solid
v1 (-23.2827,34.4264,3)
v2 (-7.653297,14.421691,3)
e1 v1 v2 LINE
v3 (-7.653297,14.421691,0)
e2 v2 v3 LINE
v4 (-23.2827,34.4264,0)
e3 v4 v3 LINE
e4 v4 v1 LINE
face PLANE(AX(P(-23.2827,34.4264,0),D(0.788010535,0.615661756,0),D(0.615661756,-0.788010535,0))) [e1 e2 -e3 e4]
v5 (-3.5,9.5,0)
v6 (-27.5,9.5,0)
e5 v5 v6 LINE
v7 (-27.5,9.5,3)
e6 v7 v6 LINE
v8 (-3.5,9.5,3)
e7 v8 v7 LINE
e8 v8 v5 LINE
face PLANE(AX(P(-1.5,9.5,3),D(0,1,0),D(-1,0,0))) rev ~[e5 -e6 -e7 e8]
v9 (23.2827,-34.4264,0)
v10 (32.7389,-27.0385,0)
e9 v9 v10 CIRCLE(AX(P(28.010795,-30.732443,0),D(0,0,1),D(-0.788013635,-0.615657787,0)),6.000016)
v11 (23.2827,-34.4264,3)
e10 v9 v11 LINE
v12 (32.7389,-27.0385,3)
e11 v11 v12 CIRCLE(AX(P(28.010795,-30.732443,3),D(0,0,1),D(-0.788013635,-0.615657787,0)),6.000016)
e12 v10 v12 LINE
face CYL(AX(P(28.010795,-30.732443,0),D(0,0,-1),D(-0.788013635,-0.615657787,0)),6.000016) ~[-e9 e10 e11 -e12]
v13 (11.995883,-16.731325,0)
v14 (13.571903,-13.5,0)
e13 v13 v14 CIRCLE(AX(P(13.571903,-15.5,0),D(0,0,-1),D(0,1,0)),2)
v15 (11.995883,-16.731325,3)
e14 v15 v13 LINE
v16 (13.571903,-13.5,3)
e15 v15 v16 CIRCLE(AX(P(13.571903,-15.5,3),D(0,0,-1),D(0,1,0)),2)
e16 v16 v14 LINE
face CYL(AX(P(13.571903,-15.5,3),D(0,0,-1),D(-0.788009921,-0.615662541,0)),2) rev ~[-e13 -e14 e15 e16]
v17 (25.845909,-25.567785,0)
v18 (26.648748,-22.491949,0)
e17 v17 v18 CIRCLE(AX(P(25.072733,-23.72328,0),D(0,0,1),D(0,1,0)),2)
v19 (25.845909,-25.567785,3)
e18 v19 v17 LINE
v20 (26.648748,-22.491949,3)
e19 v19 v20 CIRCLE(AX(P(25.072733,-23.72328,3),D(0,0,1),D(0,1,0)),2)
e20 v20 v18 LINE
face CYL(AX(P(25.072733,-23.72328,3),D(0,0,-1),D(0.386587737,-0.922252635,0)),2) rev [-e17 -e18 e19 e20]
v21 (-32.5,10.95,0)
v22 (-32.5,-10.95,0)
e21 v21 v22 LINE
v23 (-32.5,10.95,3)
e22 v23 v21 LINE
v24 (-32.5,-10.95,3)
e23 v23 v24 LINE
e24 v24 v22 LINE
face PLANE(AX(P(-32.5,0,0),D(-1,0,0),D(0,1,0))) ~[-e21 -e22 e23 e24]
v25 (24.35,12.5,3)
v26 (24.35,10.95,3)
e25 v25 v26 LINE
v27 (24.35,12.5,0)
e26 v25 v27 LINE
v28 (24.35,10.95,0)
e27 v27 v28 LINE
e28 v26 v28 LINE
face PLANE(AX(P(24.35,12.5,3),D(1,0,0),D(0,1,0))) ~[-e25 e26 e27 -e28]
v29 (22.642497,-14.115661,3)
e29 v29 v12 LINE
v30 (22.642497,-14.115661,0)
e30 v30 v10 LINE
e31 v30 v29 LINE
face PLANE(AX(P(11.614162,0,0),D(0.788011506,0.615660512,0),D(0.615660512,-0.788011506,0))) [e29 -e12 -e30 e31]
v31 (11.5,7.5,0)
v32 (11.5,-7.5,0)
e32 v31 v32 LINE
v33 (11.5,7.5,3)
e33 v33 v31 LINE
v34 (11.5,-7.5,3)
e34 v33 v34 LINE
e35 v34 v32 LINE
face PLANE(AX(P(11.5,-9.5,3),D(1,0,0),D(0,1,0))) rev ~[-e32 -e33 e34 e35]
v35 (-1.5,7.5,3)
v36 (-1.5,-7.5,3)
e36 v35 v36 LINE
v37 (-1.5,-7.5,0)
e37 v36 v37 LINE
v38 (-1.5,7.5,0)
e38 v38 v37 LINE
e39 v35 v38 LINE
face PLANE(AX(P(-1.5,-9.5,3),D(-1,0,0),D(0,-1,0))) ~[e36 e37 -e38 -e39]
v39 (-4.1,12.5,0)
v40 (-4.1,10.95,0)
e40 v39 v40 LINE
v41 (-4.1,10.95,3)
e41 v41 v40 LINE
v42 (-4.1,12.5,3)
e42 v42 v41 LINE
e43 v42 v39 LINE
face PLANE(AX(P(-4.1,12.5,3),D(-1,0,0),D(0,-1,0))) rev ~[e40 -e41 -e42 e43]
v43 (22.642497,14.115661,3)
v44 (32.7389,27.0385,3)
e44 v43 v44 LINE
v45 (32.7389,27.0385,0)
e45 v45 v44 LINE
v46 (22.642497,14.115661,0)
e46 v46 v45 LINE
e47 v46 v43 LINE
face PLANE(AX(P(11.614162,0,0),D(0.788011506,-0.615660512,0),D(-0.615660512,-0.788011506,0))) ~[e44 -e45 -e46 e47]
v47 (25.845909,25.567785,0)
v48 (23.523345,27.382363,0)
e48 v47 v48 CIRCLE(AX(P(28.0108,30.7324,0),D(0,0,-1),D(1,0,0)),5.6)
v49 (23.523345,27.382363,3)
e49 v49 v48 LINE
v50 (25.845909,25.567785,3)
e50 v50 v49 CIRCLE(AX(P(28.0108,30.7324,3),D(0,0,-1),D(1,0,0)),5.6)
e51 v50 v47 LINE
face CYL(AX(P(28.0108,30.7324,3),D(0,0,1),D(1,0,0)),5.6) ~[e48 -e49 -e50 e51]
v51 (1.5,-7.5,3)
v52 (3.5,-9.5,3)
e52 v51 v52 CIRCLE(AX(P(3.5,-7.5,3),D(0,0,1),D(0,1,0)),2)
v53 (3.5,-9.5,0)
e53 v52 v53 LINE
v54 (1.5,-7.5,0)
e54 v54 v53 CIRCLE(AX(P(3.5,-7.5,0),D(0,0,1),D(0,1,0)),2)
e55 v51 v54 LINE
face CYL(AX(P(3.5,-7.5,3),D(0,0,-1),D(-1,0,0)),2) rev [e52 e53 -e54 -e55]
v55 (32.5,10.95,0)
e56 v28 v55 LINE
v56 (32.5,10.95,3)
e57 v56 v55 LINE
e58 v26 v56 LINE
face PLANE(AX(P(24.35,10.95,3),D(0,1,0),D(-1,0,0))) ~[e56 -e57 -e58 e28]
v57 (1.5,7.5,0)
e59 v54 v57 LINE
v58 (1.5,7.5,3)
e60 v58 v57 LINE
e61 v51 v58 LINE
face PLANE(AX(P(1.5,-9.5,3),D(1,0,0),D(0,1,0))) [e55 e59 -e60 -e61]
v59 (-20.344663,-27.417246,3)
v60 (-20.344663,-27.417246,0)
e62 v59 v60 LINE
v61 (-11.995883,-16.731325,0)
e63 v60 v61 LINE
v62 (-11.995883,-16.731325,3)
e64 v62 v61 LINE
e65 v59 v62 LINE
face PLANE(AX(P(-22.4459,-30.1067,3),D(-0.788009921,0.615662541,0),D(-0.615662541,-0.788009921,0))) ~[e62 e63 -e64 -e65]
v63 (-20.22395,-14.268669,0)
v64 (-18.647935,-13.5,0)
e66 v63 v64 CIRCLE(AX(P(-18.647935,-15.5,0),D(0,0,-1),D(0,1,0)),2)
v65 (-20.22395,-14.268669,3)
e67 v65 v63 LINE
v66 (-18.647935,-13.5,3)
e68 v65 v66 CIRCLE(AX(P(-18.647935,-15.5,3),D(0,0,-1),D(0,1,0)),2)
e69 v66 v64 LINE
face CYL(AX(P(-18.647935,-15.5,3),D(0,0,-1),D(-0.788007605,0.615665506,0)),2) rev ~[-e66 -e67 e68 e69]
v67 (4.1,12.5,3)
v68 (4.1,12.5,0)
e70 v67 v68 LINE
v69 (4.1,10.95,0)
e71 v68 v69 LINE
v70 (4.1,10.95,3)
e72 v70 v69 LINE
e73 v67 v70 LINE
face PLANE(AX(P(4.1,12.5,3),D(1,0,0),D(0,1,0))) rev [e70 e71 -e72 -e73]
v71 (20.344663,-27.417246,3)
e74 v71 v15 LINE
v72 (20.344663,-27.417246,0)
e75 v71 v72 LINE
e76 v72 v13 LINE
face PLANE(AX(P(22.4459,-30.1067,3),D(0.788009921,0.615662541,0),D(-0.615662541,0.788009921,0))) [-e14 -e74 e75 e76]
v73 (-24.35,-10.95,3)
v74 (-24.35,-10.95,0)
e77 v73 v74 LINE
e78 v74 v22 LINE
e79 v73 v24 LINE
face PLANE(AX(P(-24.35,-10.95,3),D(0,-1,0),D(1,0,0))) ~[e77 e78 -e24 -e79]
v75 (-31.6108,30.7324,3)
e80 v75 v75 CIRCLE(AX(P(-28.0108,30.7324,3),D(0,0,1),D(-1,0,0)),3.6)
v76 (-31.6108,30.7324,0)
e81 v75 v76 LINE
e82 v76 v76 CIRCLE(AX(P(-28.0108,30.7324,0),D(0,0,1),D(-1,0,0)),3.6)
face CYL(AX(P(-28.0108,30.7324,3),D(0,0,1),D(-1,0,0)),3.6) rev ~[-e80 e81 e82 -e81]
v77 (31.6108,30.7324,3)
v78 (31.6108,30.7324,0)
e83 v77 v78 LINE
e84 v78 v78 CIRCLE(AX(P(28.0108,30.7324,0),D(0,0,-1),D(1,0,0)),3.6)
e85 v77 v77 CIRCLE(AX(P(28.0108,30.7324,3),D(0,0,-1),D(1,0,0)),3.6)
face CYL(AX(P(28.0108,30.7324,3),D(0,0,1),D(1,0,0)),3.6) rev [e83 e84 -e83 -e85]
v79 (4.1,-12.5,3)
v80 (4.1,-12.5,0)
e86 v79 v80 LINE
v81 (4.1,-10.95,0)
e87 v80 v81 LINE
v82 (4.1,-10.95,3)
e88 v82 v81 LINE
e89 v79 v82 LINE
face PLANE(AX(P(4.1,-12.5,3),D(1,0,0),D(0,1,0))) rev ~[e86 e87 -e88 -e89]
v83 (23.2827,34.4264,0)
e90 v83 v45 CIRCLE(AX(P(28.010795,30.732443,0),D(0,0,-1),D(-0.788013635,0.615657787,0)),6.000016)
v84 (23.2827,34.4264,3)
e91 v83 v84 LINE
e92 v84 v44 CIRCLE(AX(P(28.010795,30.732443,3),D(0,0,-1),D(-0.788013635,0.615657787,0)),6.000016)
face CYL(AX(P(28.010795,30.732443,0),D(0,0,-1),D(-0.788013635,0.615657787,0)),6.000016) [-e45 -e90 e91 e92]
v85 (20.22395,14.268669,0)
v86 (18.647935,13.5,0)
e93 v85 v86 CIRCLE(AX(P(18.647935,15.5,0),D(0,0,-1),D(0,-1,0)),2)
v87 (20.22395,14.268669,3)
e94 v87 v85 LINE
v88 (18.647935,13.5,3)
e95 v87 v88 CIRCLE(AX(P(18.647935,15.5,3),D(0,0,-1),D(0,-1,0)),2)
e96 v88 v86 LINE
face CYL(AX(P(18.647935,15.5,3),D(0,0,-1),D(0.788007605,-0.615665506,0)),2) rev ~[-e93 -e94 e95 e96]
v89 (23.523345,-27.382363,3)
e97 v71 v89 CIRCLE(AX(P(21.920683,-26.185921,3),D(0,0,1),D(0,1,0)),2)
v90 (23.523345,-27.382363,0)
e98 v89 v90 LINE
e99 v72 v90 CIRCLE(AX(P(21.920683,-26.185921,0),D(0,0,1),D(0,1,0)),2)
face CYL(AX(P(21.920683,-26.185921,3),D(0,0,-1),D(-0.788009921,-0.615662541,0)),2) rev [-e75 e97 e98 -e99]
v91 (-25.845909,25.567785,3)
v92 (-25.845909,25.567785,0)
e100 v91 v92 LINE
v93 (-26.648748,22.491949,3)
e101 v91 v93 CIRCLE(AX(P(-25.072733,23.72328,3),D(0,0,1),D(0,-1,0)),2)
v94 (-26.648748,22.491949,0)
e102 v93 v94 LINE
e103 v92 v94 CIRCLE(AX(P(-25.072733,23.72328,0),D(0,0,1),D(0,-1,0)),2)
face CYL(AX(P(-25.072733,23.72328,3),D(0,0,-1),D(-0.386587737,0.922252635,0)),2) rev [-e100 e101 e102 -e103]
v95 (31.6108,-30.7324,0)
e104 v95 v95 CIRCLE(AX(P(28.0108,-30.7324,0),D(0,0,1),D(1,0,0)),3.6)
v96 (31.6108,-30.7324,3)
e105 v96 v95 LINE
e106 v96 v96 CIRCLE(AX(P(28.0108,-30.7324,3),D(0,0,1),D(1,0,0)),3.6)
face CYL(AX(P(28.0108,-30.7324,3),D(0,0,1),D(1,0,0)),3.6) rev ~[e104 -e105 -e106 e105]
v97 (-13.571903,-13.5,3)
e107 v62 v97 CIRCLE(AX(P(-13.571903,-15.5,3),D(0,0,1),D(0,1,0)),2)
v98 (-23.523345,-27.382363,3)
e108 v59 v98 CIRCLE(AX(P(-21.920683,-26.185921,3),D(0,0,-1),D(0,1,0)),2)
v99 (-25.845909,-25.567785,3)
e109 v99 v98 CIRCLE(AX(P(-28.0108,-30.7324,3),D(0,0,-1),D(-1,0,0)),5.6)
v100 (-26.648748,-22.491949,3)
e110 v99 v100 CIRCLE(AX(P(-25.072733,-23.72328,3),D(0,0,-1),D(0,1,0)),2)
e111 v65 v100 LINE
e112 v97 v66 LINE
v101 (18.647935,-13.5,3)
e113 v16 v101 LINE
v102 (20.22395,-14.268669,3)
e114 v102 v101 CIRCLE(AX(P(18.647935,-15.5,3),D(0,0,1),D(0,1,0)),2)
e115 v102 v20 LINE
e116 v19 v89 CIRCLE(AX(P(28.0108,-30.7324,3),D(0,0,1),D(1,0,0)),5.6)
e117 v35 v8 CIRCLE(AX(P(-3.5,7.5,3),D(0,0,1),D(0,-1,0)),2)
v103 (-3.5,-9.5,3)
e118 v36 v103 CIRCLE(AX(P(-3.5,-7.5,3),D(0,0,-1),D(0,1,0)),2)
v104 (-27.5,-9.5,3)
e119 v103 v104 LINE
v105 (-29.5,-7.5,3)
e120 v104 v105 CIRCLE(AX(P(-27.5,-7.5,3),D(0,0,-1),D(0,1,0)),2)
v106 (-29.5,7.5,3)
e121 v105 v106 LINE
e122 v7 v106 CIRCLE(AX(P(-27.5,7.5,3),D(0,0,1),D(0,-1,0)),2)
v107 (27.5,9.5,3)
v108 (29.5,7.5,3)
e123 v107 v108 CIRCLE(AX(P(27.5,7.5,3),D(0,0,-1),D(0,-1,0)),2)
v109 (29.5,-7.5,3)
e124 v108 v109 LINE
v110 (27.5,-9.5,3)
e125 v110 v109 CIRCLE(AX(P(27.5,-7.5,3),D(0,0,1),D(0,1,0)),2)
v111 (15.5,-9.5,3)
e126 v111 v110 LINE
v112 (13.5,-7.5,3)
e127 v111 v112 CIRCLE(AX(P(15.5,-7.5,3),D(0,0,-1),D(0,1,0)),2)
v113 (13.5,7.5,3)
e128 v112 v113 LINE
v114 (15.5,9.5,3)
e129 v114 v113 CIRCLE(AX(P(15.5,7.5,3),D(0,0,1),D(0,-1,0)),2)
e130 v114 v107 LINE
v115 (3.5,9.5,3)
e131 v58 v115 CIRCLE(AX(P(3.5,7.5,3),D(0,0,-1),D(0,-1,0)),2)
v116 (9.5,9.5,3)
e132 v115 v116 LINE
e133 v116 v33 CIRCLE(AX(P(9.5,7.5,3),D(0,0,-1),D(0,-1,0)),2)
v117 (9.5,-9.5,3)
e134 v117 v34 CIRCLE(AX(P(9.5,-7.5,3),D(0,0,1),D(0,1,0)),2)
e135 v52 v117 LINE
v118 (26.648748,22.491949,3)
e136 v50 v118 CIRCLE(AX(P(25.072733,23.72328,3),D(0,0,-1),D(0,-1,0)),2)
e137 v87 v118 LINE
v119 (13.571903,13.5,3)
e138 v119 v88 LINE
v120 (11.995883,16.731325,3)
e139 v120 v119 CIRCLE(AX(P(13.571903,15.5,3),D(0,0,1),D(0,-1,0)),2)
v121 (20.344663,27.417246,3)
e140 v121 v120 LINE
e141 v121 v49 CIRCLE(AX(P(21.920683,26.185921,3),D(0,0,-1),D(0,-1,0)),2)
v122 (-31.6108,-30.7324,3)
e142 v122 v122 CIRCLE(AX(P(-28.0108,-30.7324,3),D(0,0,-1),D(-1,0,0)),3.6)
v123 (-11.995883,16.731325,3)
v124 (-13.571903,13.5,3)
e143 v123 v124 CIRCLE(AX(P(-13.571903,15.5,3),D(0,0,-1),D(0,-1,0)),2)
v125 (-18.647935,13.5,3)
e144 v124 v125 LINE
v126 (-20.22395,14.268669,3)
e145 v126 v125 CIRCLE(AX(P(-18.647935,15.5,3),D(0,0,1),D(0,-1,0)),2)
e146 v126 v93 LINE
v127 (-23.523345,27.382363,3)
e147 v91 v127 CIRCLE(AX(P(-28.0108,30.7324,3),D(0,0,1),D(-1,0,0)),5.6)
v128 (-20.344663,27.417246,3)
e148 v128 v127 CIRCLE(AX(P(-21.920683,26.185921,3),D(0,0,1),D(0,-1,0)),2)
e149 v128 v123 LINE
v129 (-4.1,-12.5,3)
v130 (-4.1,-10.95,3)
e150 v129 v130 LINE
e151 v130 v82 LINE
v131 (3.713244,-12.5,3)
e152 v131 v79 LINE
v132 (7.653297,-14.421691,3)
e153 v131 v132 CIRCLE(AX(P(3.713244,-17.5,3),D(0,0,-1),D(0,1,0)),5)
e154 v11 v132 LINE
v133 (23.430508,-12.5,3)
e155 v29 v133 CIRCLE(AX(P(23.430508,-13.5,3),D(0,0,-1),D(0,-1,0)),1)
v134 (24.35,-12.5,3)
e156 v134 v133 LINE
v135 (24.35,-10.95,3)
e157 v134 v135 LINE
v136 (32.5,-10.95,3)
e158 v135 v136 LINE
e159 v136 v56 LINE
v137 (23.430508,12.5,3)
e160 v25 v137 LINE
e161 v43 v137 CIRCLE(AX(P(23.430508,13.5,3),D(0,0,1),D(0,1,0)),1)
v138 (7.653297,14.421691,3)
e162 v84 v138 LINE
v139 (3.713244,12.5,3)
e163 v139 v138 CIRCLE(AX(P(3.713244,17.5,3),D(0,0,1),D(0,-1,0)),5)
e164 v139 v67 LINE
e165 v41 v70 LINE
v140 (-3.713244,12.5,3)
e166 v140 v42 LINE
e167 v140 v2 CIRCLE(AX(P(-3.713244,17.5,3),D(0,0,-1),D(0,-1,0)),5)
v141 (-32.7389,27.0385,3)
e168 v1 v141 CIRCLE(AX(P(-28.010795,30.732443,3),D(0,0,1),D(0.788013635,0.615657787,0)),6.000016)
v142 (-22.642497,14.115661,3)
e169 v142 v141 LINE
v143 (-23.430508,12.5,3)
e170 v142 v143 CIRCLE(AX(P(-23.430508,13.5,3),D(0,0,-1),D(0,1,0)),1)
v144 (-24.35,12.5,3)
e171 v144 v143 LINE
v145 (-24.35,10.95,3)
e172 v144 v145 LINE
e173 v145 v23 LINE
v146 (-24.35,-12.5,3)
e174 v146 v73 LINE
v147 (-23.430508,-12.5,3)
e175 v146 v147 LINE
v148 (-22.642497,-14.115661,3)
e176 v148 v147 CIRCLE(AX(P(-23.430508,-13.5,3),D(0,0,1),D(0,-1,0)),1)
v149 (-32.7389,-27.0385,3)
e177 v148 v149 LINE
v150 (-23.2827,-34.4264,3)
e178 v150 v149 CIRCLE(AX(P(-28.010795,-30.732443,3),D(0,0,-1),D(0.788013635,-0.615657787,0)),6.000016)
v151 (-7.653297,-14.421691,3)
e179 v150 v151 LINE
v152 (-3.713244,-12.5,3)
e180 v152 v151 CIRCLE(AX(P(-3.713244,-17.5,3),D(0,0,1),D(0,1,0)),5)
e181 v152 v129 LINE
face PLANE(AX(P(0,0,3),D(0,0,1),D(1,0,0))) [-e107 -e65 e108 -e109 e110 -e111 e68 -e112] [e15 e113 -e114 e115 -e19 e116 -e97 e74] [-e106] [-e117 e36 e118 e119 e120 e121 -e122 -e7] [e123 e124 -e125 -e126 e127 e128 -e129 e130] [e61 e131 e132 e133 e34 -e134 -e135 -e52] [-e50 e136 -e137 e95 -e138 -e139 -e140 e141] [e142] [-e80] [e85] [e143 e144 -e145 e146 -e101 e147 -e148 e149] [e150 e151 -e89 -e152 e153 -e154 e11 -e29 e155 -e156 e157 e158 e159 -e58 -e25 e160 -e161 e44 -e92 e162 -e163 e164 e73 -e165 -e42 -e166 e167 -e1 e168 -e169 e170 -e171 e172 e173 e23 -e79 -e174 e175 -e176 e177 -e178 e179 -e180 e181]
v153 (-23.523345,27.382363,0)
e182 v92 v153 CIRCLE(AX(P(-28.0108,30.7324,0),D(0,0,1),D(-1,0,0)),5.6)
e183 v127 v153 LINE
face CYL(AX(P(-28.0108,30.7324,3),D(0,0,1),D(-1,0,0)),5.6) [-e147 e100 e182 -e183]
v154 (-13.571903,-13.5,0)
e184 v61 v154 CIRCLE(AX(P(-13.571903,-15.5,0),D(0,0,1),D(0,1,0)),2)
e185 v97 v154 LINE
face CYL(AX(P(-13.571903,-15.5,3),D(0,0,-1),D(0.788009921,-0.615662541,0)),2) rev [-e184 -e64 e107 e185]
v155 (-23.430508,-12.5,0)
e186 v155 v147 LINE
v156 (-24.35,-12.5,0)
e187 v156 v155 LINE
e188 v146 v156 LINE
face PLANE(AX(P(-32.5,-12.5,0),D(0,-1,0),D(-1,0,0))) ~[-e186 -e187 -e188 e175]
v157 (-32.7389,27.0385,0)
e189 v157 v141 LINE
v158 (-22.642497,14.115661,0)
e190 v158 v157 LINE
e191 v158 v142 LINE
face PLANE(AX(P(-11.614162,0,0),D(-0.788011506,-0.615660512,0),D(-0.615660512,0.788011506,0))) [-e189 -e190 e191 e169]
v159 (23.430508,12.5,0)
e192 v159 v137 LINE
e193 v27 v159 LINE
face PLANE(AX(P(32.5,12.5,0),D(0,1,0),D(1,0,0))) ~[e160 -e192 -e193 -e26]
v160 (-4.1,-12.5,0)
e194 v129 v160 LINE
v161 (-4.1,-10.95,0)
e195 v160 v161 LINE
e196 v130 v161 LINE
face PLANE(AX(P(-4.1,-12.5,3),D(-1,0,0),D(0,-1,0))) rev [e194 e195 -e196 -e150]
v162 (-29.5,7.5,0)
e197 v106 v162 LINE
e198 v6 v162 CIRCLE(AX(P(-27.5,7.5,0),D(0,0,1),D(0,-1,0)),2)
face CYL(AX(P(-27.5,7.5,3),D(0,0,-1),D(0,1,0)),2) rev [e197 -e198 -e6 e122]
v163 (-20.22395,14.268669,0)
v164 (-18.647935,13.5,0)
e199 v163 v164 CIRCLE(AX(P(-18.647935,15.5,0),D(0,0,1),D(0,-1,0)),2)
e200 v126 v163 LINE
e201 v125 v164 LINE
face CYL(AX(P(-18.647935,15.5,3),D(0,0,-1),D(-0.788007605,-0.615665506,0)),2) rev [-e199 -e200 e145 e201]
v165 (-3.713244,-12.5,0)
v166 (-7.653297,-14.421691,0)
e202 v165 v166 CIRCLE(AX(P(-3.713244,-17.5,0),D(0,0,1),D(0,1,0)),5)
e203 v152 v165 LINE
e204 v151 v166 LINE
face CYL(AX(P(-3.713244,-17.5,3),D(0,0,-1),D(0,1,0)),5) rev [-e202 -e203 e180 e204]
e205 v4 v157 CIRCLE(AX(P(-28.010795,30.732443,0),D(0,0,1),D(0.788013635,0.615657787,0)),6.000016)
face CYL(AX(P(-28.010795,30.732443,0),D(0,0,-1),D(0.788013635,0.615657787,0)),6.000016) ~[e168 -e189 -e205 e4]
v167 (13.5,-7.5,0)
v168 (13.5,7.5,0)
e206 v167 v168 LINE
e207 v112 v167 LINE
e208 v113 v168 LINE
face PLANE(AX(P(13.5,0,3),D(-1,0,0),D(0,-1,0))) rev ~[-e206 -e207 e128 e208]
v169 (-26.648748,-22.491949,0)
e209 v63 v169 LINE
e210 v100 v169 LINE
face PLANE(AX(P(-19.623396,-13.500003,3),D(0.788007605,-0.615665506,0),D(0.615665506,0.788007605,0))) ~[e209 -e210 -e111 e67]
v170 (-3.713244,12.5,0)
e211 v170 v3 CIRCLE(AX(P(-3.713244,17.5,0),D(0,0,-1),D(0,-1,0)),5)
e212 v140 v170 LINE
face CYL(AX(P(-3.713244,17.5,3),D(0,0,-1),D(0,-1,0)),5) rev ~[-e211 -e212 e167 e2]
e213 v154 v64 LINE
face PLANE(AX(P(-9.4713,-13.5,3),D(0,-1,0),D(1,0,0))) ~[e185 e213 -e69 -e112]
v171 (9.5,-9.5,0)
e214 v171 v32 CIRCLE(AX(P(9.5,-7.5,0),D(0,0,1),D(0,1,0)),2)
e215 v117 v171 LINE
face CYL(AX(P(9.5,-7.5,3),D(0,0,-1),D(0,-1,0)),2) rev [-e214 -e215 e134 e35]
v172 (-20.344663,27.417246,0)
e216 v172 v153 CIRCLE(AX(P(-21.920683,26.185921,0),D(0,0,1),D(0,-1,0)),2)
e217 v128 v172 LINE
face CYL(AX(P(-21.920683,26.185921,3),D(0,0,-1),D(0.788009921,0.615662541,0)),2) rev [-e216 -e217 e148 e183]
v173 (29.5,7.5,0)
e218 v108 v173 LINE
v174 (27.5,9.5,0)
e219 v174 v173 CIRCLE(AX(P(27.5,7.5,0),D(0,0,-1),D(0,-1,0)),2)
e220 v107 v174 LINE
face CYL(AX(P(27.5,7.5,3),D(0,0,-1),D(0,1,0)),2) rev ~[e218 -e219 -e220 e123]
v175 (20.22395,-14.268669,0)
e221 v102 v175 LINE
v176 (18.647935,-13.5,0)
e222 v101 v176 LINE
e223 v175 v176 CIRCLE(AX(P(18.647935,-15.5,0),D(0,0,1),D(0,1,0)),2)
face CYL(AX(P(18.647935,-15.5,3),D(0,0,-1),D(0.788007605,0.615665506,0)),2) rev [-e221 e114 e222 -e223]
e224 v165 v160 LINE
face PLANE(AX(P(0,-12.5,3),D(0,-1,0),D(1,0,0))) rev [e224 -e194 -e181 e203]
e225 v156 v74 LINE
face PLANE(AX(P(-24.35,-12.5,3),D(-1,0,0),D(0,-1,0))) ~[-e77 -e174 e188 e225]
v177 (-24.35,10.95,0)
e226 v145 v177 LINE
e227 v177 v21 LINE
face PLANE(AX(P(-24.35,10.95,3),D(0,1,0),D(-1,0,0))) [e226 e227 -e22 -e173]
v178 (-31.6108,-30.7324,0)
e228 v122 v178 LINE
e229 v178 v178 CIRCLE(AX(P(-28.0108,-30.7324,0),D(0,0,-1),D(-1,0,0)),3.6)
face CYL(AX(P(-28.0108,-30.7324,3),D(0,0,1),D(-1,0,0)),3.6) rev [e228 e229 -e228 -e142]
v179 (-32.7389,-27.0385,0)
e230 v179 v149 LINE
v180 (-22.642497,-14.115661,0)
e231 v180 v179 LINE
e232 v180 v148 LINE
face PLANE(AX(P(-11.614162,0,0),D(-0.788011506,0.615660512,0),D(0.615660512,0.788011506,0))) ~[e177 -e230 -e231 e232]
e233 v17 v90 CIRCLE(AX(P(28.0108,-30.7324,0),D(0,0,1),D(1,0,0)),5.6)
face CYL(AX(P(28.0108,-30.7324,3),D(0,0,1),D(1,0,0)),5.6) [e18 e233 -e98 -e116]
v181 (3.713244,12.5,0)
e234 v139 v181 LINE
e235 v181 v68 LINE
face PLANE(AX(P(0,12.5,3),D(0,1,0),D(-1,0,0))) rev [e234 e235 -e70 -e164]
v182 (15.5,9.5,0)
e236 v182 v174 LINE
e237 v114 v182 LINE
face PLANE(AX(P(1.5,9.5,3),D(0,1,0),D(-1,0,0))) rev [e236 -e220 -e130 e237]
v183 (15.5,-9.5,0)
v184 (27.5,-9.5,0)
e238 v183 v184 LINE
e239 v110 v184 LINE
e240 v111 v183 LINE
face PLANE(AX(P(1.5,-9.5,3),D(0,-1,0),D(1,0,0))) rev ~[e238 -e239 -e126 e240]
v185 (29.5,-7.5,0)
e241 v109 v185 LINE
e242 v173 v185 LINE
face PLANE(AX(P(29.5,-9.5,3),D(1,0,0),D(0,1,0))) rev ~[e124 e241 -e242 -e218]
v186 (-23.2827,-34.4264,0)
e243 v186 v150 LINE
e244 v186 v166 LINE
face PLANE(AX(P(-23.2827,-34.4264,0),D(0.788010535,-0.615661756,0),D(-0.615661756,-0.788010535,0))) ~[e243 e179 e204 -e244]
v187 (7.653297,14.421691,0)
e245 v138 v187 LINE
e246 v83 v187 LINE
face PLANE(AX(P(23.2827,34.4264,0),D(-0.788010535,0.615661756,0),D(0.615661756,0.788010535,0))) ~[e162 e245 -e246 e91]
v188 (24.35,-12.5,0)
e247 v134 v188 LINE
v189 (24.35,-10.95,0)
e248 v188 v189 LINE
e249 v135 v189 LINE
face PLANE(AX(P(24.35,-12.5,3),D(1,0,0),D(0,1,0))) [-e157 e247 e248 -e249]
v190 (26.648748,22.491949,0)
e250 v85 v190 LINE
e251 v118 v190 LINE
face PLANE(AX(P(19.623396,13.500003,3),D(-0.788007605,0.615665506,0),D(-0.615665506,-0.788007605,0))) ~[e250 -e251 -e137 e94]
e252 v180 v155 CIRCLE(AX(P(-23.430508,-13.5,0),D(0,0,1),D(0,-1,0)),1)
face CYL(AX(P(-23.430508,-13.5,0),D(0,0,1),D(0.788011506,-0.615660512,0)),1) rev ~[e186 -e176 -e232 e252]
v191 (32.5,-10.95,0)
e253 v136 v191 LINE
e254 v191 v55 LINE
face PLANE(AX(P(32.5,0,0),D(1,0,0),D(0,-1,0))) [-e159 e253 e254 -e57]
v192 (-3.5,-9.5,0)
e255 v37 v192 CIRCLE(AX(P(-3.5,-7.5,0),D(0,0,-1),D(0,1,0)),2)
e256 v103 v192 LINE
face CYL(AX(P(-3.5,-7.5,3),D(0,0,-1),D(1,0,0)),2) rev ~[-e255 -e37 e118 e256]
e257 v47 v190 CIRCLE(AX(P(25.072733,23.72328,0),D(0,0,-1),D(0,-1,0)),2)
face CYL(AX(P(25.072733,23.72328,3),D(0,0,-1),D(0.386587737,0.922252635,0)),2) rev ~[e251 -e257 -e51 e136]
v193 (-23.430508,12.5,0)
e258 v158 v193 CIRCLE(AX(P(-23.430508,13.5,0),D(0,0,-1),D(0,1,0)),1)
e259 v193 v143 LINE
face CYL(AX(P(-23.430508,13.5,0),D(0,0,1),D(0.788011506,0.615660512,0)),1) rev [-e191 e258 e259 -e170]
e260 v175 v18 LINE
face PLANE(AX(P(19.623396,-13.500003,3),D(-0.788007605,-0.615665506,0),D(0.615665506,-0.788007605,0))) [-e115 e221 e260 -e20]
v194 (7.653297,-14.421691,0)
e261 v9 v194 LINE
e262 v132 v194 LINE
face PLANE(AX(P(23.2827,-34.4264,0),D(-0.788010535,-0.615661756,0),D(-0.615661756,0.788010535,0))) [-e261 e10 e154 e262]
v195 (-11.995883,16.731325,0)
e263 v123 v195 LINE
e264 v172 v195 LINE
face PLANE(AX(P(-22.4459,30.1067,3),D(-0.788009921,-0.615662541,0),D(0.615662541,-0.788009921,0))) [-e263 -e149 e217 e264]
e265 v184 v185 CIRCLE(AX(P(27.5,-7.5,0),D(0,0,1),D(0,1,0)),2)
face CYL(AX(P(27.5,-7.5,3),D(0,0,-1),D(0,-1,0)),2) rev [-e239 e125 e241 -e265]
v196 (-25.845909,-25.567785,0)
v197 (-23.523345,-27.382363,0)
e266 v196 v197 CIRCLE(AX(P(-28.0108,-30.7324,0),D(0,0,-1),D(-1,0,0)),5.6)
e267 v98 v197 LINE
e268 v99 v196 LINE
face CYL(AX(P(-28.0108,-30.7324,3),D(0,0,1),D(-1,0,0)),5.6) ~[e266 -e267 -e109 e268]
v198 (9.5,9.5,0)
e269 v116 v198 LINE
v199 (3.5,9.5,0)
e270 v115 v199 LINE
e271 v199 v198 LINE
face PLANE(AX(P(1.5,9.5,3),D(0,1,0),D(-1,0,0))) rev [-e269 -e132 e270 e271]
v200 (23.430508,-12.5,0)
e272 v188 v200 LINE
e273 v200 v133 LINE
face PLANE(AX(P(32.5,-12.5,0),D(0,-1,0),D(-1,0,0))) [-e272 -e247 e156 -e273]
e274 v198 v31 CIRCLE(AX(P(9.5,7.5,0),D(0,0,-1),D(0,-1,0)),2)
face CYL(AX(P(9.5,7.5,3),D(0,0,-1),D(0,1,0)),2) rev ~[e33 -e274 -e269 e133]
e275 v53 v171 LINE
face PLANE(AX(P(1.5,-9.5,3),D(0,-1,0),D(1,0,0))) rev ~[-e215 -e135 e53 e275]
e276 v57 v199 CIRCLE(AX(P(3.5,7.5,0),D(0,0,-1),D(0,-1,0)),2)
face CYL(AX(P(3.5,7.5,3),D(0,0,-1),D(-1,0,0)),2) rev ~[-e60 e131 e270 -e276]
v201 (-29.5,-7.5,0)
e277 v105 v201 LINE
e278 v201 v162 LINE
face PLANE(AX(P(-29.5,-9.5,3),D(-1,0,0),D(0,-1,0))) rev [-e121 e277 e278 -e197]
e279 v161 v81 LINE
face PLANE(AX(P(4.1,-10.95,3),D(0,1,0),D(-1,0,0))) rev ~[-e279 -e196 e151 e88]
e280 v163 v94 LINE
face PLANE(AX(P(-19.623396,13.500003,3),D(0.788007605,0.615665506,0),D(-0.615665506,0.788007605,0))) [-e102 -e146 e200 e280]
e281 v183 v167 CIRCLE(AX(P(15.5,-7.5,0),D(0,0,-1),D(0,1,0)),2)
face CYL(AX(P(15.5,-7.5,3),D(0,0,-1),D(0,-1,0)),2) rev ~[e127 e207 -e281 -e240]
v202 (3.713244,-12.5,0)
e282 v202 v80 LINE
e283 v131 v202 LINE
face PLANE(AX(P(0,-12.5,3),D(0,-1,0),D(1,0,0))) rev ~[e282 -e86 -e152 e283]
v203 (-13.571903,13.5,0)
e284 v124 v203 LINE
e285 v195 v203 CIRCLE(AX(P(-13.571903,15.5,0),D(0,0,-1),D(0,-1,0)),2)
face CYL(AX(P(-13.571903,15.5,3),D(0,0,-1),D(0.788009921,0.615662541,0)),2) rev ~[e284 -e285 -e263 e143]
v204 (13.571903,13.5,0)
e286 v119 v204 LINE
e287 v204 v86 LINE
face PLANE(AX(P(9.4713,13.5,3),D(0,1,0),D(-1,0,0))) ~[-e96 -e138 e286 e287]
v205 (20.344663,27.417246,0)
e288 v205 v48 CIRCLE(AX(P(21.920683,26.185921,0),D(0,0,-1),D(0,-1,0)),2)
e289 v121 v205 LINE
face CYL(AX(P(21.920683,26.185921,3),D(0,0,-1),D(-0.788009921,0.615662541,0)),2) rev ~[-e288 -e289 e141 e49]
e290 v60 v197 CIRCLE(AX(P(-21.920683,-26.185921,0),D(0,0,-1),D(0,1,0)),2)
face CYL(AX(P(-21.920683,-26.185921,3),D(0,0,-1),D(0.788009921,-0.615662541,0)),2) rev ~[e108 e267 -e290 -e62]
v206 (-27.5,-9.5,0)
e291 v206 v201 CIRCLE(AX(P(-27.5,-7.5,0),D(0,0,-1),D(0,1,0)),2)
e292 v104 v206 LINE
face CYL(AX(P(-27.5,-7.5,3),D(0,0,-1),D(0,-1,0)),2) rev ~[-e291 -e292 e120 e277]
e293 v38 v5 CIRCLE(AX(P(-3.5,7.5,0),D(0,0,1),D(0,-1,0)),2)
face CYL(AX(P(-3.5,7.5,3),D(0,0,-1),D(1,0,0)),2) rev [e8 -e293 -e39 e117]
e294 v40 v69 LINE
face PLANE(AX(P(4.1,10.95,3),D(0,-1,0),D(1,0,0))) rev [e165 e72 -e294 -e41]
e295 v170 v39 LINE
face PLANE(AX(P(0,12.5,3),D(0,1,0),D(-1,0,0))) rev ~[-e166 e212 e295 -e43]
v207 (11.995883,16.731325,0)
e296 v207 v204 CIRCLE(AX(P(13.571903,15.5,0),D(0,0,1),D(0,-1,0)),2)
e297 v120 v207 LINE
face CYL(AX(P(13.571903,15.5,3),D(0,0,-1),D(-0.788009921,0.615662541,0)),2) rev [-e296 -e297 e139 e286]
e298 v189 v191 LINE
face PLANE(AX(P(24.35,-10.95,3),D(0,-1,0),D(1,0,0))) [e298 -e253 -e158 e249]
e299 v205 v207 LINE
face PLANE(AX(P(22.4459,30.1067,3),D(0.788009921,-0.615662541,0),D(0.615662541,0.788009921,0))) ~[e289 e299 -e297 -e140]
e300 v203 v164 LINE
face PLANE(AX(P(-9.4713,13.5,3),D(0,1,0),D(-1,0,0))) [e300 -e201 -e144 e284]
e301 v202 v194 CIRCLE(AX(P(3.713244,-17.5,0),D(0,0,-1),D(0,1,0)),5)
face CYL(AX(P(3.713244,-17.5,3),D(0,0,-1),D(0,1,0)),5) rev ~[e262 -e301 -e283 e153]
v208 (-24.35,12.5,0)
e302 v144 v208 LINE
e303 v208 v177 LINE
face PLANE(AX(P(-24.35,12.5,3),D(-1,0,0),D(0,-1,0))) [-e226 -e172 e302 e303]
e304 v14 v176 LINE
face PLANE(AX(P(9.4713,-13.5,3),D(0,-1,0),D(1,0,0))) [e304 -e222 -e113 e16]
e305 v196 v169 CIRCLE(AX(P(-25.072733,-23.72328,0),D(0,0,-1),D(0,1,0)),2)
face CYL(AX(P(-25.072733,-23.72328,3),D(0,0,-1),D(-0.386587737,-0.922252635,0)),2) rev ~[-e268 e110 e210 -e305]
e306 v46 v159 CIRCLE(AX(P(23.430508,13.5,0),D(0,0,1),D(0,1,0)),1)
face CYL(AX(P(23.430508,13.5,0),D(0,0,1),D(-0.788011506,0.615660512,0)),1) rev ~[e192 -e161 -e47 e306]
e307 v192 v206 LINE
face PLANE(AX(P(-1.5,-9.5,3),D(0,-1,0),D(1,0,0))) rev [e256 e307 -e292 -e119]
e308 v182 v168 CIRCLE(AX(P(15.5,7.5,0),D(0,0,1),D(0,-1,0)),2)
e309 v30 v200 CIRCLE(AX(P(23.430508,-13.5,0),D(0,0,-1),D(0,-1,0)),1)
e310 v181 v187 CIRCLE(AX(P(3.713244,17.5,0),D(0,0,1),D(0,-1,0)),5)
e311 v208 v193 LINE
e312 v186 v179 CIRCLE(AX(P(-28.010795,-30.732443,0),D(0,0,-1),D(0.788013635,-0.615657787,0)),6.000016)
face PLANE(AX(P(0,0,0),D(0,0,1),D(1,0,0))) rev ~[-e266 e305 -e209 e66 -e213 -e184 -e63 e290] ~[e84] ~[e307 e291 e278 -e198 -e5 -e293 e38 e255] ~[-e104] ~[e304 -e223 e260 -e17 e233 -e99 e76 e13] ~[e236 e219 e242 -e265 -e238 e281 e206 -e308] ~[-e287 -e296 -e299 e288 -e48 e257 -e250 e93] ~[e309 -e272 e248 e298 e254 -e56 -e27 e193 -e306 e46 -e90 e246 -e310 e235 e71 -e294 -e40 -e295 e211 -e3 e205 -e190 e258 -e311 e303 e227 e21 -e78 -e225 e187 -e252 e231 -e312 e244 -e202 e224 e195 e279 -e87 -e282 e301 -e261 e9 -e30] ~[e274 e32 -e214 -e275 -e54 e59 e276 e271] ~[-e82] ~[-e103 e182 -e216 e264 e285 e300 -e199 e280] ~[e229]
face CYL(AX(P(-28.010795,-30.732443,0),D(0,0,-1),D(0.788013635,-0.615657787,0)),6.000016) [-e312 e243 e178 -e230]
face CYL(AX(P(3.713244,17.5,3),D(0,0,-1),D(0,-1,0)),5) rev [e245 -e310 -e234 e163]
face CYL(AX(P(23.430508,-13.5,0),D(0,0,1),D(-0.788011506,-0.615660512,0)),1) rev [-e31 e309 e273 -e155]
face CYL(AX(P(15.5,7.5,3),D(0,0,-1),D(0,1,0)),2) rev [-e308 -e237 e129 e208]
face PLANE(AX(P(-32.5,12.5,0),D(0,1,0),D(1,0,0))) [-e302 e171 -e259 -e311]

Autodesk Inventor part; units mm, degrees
ref_plane "YZ Plane" through (0, 0, 0) normal (1, 0, 0) x (0, 1, 0)
ref_plane "XZ Plane" through (0, 0, 0) normal (0, 1, 0) x (-1, 0, 0)
ref_plane "XY Plane" through (0, 0, 0) normal (0, 0, 1) x (1, 0, 0)
sketch "Skizze1" plane through (0, 0, 0) normal (0, 0, 1) x (1, 0, 0)
  line L0 (-32.5, 0) -> (32.5, 0)
  line L1 (32.5, 0) -> (32.5, -12.5)
  line L2 (32.5, -12.5) -> (-32.5, -12.5)
  line L3 (-32.5, -12.5) -> (-32.5, 0)
  line L4 (0, 0) -> (0, -12.5)
  dimension "d0" = 65
  dimension "d1" = 12.5
extrude "Extrusion1" add sketch "Skizze1" along normal blind 3 contours L0 L1 L2 L4
sketch "Skizze24" plane through (0, 0, 0) normal (0, 0, 1) x (1, 0, 0)
  line L0 (4, 0) -> (28.0108, -30.7324) construction
  line L1 (8.7281, 3.694) -> (32.7389, -27.0385)
  line L2 (23.2827, -34.4264) -> (-0.7281, -3.694)
  arc A0 (8.7281, 3.694) -> (-0.7281, -3.694) centre (4, 0) ccw
  arc A1 (23.2827, -34.4264) -> (32.7389, -27.0385) centre (28.0108, -30.7324) ccw
  line L3 (4, 0) -> (4, -54.7704) construction
  line L4 (32.5, -12.5) -> (32.5, 0) projected
  line L5 (32.5, 0) -> (-37.9025, 0)
  line L6 (0, 0) -> (0, -12.5) projected
  point P0 (16.0054, -15.3662)
  point P1 (11.6141, 0)
  point P2 (-2, 0)
  point P3 (4, 0)
  point P4 (4, -9.7456)
  point P5 (0, -4.6258)
  dimension "d137" = 38
  dimension "d138" = 39
  dimension "d139" = 12
  dimension "d191" = 4
extrude "Extrusion19" add sketch "Skizze24" along normal blind 3 contours L1 A1 L2 L6 L5
sketch "Skizze25" plane through (0, 0, 3) normal (0, 0, 1) x (1, 0, 0)
  arc A0 (23.2827, -34.4264) -> (32.7389, -27.0385) centre (28.0108, -30.7324) ccw projected
  circle A1 centre (28.0108, -30.7324) radius 3.6
  circle A2 centre (28.0108, -30.7324) radius 5.6
  line L0 (22.4459, -30.1067) -> (8.69, -12.5)
  line L1 (0, -12.5) -> (32.5, -12.5) projected
  line L2 (18.8421, -12.5) -> (28.75, -25.1814)
  line L3 (6.152, -12.5) -> (23.2827, -34.4264) projected
  line L4 (32.7389, -27.0385) -> (21.3802, -12.5) projected
  line L5 (9.4713, -13.5) -> (19.6234, -13.5)
  point P0 (0, 0)
  point P1 (-35, -12.5)
  dimension "d142" = 7.2
  dimension "d143" = 2
  dimension "d144" = 2
  dimension "d145" = 2
  dimension "d149" = 1
extrude "Extrusion20" cut sketch "Skizze25" against normal through all contours L5 L2 A2 L0 | A1
fillet "Rundung14" radius 2 4 edges at (22.4459, -30.1067, 1.5) (28.75, -25.1814, 1.5) (9.4713, -13.5, 1.5) (19.6234, -13.5, 1.5)
sketch "Skizze31" plane through (0, 0, 3) normal (0, 0, 1) x (1, 0, 0)
  line L0 (0, 0) -> (0, -12.5) projected
  line L1 (29.5, 0) -> (0, 0)
  line L2 (0, 0) -> (0, -9.5)
  line L3 (0, -9.5) -> (29.5, -9.5)
  line L4 (29.5, -9.5) -> (29.5, 0)
  line L5 (32.5, -12.5) -> (32.5, 0) projected
  line L6 (0, -12.5) -> (6.152, -12.5) projected
  line L7 (1.5, -9.5) -> (1.5, 0)
  dimension "d186" = 3
  dimension "d187" = 3
  dimension "d195" = 1.5
extrude "Extrusion26" cut sketch "Skizze31" against normal blind 17.5 contours L1 L4 L3 L7
fillet "Rundung24" radius 2 2 edges at (29.5, -9.5, 1.5) (1.5, -9.5, 1.5)
fillet "Rundung25" radius 5 1 edges at (6.152, -12.5, 1.5)
fillet "Rundung26" radius 1 1 edges at (21.3802, -12.5, 1.5)
sketch "Skizze32" plane through (0, 0, 3) normal (0, 0, 1) x (1, 0, 0)
  line L0 (32.5, -12.5) -> (32.5, 0) projected
  line L1 (32.5, -12.5) -> (24.35, -12.5)
  line L2 (24.35, -12.5) -> (24.35, -10.95)
  line L3 (24.35, -10.95) -> (32.5, -10.95)
  line L4 (32.5, -10.95) -> (32.5, -12.5)
  line L5 (0, -12.5) -> (4.1, -12.5)
  line L6 (4.1, -12.5) -> (4.1, -10.95)
  line L7 (4.1, -10.95) -> (0, -10.95)
  line L8 (0, -10.95) -> (0, -12.5)
  point P0 (0, 0)
  dimension "d196" = 1.55
  dimension "d197" = 8.15
  dimension "d200" = 4.1
extrude "Extrusion27" cut sketch "Skizze32" against normal blind 9.25
mirror "Spiegeln5" about plane through (0, 0, 0) normal (1, 0, 0)
sketch "Skizze33" plane through (0, 0, 3) normal (0, 0, 1) x (1, 0, 0)
  line L0 (-27.5, -9.5) -> (-3.5, -9.5) projected
  line L1 (13.5, -9.5) -> (11.5, -9.5)
  line L2 (11.5, -9.5) -> (11.5, 0)
  line L3 (11.5, 0) -> (13.5, 0)
  line L4 (13.5, 0) -> (13.5, -9.5)
  line L5 (-29.5, 0) -> (-29.5, -7.5) projected
  line L6 (1.5, 0) -> (-1.5, 0) projected
  line L7 (29.5, 0) -> (29.5, -7.5) projected
  point P0 (0, 0)
  point P1 (0, 0)
  point P2 (-12, -9.5)
  point P3 (2, 0)
  point P4 (-2, 0)
  dimension "d201" = 2
  dimension "d206" = 16
extrude "Extrusion28" add sketch "Skizze33" against normal up to surface (3 mm away)
fillet "Rundung28" radius 2 2 edges at (13.5, -9.5, 1.5) (11.5, -9.5, 1.5)
mirror "Spiegeln4" about plane through (0, 0, 0) normal (0, 1, 0)
properties part number "P_DroneCase"
